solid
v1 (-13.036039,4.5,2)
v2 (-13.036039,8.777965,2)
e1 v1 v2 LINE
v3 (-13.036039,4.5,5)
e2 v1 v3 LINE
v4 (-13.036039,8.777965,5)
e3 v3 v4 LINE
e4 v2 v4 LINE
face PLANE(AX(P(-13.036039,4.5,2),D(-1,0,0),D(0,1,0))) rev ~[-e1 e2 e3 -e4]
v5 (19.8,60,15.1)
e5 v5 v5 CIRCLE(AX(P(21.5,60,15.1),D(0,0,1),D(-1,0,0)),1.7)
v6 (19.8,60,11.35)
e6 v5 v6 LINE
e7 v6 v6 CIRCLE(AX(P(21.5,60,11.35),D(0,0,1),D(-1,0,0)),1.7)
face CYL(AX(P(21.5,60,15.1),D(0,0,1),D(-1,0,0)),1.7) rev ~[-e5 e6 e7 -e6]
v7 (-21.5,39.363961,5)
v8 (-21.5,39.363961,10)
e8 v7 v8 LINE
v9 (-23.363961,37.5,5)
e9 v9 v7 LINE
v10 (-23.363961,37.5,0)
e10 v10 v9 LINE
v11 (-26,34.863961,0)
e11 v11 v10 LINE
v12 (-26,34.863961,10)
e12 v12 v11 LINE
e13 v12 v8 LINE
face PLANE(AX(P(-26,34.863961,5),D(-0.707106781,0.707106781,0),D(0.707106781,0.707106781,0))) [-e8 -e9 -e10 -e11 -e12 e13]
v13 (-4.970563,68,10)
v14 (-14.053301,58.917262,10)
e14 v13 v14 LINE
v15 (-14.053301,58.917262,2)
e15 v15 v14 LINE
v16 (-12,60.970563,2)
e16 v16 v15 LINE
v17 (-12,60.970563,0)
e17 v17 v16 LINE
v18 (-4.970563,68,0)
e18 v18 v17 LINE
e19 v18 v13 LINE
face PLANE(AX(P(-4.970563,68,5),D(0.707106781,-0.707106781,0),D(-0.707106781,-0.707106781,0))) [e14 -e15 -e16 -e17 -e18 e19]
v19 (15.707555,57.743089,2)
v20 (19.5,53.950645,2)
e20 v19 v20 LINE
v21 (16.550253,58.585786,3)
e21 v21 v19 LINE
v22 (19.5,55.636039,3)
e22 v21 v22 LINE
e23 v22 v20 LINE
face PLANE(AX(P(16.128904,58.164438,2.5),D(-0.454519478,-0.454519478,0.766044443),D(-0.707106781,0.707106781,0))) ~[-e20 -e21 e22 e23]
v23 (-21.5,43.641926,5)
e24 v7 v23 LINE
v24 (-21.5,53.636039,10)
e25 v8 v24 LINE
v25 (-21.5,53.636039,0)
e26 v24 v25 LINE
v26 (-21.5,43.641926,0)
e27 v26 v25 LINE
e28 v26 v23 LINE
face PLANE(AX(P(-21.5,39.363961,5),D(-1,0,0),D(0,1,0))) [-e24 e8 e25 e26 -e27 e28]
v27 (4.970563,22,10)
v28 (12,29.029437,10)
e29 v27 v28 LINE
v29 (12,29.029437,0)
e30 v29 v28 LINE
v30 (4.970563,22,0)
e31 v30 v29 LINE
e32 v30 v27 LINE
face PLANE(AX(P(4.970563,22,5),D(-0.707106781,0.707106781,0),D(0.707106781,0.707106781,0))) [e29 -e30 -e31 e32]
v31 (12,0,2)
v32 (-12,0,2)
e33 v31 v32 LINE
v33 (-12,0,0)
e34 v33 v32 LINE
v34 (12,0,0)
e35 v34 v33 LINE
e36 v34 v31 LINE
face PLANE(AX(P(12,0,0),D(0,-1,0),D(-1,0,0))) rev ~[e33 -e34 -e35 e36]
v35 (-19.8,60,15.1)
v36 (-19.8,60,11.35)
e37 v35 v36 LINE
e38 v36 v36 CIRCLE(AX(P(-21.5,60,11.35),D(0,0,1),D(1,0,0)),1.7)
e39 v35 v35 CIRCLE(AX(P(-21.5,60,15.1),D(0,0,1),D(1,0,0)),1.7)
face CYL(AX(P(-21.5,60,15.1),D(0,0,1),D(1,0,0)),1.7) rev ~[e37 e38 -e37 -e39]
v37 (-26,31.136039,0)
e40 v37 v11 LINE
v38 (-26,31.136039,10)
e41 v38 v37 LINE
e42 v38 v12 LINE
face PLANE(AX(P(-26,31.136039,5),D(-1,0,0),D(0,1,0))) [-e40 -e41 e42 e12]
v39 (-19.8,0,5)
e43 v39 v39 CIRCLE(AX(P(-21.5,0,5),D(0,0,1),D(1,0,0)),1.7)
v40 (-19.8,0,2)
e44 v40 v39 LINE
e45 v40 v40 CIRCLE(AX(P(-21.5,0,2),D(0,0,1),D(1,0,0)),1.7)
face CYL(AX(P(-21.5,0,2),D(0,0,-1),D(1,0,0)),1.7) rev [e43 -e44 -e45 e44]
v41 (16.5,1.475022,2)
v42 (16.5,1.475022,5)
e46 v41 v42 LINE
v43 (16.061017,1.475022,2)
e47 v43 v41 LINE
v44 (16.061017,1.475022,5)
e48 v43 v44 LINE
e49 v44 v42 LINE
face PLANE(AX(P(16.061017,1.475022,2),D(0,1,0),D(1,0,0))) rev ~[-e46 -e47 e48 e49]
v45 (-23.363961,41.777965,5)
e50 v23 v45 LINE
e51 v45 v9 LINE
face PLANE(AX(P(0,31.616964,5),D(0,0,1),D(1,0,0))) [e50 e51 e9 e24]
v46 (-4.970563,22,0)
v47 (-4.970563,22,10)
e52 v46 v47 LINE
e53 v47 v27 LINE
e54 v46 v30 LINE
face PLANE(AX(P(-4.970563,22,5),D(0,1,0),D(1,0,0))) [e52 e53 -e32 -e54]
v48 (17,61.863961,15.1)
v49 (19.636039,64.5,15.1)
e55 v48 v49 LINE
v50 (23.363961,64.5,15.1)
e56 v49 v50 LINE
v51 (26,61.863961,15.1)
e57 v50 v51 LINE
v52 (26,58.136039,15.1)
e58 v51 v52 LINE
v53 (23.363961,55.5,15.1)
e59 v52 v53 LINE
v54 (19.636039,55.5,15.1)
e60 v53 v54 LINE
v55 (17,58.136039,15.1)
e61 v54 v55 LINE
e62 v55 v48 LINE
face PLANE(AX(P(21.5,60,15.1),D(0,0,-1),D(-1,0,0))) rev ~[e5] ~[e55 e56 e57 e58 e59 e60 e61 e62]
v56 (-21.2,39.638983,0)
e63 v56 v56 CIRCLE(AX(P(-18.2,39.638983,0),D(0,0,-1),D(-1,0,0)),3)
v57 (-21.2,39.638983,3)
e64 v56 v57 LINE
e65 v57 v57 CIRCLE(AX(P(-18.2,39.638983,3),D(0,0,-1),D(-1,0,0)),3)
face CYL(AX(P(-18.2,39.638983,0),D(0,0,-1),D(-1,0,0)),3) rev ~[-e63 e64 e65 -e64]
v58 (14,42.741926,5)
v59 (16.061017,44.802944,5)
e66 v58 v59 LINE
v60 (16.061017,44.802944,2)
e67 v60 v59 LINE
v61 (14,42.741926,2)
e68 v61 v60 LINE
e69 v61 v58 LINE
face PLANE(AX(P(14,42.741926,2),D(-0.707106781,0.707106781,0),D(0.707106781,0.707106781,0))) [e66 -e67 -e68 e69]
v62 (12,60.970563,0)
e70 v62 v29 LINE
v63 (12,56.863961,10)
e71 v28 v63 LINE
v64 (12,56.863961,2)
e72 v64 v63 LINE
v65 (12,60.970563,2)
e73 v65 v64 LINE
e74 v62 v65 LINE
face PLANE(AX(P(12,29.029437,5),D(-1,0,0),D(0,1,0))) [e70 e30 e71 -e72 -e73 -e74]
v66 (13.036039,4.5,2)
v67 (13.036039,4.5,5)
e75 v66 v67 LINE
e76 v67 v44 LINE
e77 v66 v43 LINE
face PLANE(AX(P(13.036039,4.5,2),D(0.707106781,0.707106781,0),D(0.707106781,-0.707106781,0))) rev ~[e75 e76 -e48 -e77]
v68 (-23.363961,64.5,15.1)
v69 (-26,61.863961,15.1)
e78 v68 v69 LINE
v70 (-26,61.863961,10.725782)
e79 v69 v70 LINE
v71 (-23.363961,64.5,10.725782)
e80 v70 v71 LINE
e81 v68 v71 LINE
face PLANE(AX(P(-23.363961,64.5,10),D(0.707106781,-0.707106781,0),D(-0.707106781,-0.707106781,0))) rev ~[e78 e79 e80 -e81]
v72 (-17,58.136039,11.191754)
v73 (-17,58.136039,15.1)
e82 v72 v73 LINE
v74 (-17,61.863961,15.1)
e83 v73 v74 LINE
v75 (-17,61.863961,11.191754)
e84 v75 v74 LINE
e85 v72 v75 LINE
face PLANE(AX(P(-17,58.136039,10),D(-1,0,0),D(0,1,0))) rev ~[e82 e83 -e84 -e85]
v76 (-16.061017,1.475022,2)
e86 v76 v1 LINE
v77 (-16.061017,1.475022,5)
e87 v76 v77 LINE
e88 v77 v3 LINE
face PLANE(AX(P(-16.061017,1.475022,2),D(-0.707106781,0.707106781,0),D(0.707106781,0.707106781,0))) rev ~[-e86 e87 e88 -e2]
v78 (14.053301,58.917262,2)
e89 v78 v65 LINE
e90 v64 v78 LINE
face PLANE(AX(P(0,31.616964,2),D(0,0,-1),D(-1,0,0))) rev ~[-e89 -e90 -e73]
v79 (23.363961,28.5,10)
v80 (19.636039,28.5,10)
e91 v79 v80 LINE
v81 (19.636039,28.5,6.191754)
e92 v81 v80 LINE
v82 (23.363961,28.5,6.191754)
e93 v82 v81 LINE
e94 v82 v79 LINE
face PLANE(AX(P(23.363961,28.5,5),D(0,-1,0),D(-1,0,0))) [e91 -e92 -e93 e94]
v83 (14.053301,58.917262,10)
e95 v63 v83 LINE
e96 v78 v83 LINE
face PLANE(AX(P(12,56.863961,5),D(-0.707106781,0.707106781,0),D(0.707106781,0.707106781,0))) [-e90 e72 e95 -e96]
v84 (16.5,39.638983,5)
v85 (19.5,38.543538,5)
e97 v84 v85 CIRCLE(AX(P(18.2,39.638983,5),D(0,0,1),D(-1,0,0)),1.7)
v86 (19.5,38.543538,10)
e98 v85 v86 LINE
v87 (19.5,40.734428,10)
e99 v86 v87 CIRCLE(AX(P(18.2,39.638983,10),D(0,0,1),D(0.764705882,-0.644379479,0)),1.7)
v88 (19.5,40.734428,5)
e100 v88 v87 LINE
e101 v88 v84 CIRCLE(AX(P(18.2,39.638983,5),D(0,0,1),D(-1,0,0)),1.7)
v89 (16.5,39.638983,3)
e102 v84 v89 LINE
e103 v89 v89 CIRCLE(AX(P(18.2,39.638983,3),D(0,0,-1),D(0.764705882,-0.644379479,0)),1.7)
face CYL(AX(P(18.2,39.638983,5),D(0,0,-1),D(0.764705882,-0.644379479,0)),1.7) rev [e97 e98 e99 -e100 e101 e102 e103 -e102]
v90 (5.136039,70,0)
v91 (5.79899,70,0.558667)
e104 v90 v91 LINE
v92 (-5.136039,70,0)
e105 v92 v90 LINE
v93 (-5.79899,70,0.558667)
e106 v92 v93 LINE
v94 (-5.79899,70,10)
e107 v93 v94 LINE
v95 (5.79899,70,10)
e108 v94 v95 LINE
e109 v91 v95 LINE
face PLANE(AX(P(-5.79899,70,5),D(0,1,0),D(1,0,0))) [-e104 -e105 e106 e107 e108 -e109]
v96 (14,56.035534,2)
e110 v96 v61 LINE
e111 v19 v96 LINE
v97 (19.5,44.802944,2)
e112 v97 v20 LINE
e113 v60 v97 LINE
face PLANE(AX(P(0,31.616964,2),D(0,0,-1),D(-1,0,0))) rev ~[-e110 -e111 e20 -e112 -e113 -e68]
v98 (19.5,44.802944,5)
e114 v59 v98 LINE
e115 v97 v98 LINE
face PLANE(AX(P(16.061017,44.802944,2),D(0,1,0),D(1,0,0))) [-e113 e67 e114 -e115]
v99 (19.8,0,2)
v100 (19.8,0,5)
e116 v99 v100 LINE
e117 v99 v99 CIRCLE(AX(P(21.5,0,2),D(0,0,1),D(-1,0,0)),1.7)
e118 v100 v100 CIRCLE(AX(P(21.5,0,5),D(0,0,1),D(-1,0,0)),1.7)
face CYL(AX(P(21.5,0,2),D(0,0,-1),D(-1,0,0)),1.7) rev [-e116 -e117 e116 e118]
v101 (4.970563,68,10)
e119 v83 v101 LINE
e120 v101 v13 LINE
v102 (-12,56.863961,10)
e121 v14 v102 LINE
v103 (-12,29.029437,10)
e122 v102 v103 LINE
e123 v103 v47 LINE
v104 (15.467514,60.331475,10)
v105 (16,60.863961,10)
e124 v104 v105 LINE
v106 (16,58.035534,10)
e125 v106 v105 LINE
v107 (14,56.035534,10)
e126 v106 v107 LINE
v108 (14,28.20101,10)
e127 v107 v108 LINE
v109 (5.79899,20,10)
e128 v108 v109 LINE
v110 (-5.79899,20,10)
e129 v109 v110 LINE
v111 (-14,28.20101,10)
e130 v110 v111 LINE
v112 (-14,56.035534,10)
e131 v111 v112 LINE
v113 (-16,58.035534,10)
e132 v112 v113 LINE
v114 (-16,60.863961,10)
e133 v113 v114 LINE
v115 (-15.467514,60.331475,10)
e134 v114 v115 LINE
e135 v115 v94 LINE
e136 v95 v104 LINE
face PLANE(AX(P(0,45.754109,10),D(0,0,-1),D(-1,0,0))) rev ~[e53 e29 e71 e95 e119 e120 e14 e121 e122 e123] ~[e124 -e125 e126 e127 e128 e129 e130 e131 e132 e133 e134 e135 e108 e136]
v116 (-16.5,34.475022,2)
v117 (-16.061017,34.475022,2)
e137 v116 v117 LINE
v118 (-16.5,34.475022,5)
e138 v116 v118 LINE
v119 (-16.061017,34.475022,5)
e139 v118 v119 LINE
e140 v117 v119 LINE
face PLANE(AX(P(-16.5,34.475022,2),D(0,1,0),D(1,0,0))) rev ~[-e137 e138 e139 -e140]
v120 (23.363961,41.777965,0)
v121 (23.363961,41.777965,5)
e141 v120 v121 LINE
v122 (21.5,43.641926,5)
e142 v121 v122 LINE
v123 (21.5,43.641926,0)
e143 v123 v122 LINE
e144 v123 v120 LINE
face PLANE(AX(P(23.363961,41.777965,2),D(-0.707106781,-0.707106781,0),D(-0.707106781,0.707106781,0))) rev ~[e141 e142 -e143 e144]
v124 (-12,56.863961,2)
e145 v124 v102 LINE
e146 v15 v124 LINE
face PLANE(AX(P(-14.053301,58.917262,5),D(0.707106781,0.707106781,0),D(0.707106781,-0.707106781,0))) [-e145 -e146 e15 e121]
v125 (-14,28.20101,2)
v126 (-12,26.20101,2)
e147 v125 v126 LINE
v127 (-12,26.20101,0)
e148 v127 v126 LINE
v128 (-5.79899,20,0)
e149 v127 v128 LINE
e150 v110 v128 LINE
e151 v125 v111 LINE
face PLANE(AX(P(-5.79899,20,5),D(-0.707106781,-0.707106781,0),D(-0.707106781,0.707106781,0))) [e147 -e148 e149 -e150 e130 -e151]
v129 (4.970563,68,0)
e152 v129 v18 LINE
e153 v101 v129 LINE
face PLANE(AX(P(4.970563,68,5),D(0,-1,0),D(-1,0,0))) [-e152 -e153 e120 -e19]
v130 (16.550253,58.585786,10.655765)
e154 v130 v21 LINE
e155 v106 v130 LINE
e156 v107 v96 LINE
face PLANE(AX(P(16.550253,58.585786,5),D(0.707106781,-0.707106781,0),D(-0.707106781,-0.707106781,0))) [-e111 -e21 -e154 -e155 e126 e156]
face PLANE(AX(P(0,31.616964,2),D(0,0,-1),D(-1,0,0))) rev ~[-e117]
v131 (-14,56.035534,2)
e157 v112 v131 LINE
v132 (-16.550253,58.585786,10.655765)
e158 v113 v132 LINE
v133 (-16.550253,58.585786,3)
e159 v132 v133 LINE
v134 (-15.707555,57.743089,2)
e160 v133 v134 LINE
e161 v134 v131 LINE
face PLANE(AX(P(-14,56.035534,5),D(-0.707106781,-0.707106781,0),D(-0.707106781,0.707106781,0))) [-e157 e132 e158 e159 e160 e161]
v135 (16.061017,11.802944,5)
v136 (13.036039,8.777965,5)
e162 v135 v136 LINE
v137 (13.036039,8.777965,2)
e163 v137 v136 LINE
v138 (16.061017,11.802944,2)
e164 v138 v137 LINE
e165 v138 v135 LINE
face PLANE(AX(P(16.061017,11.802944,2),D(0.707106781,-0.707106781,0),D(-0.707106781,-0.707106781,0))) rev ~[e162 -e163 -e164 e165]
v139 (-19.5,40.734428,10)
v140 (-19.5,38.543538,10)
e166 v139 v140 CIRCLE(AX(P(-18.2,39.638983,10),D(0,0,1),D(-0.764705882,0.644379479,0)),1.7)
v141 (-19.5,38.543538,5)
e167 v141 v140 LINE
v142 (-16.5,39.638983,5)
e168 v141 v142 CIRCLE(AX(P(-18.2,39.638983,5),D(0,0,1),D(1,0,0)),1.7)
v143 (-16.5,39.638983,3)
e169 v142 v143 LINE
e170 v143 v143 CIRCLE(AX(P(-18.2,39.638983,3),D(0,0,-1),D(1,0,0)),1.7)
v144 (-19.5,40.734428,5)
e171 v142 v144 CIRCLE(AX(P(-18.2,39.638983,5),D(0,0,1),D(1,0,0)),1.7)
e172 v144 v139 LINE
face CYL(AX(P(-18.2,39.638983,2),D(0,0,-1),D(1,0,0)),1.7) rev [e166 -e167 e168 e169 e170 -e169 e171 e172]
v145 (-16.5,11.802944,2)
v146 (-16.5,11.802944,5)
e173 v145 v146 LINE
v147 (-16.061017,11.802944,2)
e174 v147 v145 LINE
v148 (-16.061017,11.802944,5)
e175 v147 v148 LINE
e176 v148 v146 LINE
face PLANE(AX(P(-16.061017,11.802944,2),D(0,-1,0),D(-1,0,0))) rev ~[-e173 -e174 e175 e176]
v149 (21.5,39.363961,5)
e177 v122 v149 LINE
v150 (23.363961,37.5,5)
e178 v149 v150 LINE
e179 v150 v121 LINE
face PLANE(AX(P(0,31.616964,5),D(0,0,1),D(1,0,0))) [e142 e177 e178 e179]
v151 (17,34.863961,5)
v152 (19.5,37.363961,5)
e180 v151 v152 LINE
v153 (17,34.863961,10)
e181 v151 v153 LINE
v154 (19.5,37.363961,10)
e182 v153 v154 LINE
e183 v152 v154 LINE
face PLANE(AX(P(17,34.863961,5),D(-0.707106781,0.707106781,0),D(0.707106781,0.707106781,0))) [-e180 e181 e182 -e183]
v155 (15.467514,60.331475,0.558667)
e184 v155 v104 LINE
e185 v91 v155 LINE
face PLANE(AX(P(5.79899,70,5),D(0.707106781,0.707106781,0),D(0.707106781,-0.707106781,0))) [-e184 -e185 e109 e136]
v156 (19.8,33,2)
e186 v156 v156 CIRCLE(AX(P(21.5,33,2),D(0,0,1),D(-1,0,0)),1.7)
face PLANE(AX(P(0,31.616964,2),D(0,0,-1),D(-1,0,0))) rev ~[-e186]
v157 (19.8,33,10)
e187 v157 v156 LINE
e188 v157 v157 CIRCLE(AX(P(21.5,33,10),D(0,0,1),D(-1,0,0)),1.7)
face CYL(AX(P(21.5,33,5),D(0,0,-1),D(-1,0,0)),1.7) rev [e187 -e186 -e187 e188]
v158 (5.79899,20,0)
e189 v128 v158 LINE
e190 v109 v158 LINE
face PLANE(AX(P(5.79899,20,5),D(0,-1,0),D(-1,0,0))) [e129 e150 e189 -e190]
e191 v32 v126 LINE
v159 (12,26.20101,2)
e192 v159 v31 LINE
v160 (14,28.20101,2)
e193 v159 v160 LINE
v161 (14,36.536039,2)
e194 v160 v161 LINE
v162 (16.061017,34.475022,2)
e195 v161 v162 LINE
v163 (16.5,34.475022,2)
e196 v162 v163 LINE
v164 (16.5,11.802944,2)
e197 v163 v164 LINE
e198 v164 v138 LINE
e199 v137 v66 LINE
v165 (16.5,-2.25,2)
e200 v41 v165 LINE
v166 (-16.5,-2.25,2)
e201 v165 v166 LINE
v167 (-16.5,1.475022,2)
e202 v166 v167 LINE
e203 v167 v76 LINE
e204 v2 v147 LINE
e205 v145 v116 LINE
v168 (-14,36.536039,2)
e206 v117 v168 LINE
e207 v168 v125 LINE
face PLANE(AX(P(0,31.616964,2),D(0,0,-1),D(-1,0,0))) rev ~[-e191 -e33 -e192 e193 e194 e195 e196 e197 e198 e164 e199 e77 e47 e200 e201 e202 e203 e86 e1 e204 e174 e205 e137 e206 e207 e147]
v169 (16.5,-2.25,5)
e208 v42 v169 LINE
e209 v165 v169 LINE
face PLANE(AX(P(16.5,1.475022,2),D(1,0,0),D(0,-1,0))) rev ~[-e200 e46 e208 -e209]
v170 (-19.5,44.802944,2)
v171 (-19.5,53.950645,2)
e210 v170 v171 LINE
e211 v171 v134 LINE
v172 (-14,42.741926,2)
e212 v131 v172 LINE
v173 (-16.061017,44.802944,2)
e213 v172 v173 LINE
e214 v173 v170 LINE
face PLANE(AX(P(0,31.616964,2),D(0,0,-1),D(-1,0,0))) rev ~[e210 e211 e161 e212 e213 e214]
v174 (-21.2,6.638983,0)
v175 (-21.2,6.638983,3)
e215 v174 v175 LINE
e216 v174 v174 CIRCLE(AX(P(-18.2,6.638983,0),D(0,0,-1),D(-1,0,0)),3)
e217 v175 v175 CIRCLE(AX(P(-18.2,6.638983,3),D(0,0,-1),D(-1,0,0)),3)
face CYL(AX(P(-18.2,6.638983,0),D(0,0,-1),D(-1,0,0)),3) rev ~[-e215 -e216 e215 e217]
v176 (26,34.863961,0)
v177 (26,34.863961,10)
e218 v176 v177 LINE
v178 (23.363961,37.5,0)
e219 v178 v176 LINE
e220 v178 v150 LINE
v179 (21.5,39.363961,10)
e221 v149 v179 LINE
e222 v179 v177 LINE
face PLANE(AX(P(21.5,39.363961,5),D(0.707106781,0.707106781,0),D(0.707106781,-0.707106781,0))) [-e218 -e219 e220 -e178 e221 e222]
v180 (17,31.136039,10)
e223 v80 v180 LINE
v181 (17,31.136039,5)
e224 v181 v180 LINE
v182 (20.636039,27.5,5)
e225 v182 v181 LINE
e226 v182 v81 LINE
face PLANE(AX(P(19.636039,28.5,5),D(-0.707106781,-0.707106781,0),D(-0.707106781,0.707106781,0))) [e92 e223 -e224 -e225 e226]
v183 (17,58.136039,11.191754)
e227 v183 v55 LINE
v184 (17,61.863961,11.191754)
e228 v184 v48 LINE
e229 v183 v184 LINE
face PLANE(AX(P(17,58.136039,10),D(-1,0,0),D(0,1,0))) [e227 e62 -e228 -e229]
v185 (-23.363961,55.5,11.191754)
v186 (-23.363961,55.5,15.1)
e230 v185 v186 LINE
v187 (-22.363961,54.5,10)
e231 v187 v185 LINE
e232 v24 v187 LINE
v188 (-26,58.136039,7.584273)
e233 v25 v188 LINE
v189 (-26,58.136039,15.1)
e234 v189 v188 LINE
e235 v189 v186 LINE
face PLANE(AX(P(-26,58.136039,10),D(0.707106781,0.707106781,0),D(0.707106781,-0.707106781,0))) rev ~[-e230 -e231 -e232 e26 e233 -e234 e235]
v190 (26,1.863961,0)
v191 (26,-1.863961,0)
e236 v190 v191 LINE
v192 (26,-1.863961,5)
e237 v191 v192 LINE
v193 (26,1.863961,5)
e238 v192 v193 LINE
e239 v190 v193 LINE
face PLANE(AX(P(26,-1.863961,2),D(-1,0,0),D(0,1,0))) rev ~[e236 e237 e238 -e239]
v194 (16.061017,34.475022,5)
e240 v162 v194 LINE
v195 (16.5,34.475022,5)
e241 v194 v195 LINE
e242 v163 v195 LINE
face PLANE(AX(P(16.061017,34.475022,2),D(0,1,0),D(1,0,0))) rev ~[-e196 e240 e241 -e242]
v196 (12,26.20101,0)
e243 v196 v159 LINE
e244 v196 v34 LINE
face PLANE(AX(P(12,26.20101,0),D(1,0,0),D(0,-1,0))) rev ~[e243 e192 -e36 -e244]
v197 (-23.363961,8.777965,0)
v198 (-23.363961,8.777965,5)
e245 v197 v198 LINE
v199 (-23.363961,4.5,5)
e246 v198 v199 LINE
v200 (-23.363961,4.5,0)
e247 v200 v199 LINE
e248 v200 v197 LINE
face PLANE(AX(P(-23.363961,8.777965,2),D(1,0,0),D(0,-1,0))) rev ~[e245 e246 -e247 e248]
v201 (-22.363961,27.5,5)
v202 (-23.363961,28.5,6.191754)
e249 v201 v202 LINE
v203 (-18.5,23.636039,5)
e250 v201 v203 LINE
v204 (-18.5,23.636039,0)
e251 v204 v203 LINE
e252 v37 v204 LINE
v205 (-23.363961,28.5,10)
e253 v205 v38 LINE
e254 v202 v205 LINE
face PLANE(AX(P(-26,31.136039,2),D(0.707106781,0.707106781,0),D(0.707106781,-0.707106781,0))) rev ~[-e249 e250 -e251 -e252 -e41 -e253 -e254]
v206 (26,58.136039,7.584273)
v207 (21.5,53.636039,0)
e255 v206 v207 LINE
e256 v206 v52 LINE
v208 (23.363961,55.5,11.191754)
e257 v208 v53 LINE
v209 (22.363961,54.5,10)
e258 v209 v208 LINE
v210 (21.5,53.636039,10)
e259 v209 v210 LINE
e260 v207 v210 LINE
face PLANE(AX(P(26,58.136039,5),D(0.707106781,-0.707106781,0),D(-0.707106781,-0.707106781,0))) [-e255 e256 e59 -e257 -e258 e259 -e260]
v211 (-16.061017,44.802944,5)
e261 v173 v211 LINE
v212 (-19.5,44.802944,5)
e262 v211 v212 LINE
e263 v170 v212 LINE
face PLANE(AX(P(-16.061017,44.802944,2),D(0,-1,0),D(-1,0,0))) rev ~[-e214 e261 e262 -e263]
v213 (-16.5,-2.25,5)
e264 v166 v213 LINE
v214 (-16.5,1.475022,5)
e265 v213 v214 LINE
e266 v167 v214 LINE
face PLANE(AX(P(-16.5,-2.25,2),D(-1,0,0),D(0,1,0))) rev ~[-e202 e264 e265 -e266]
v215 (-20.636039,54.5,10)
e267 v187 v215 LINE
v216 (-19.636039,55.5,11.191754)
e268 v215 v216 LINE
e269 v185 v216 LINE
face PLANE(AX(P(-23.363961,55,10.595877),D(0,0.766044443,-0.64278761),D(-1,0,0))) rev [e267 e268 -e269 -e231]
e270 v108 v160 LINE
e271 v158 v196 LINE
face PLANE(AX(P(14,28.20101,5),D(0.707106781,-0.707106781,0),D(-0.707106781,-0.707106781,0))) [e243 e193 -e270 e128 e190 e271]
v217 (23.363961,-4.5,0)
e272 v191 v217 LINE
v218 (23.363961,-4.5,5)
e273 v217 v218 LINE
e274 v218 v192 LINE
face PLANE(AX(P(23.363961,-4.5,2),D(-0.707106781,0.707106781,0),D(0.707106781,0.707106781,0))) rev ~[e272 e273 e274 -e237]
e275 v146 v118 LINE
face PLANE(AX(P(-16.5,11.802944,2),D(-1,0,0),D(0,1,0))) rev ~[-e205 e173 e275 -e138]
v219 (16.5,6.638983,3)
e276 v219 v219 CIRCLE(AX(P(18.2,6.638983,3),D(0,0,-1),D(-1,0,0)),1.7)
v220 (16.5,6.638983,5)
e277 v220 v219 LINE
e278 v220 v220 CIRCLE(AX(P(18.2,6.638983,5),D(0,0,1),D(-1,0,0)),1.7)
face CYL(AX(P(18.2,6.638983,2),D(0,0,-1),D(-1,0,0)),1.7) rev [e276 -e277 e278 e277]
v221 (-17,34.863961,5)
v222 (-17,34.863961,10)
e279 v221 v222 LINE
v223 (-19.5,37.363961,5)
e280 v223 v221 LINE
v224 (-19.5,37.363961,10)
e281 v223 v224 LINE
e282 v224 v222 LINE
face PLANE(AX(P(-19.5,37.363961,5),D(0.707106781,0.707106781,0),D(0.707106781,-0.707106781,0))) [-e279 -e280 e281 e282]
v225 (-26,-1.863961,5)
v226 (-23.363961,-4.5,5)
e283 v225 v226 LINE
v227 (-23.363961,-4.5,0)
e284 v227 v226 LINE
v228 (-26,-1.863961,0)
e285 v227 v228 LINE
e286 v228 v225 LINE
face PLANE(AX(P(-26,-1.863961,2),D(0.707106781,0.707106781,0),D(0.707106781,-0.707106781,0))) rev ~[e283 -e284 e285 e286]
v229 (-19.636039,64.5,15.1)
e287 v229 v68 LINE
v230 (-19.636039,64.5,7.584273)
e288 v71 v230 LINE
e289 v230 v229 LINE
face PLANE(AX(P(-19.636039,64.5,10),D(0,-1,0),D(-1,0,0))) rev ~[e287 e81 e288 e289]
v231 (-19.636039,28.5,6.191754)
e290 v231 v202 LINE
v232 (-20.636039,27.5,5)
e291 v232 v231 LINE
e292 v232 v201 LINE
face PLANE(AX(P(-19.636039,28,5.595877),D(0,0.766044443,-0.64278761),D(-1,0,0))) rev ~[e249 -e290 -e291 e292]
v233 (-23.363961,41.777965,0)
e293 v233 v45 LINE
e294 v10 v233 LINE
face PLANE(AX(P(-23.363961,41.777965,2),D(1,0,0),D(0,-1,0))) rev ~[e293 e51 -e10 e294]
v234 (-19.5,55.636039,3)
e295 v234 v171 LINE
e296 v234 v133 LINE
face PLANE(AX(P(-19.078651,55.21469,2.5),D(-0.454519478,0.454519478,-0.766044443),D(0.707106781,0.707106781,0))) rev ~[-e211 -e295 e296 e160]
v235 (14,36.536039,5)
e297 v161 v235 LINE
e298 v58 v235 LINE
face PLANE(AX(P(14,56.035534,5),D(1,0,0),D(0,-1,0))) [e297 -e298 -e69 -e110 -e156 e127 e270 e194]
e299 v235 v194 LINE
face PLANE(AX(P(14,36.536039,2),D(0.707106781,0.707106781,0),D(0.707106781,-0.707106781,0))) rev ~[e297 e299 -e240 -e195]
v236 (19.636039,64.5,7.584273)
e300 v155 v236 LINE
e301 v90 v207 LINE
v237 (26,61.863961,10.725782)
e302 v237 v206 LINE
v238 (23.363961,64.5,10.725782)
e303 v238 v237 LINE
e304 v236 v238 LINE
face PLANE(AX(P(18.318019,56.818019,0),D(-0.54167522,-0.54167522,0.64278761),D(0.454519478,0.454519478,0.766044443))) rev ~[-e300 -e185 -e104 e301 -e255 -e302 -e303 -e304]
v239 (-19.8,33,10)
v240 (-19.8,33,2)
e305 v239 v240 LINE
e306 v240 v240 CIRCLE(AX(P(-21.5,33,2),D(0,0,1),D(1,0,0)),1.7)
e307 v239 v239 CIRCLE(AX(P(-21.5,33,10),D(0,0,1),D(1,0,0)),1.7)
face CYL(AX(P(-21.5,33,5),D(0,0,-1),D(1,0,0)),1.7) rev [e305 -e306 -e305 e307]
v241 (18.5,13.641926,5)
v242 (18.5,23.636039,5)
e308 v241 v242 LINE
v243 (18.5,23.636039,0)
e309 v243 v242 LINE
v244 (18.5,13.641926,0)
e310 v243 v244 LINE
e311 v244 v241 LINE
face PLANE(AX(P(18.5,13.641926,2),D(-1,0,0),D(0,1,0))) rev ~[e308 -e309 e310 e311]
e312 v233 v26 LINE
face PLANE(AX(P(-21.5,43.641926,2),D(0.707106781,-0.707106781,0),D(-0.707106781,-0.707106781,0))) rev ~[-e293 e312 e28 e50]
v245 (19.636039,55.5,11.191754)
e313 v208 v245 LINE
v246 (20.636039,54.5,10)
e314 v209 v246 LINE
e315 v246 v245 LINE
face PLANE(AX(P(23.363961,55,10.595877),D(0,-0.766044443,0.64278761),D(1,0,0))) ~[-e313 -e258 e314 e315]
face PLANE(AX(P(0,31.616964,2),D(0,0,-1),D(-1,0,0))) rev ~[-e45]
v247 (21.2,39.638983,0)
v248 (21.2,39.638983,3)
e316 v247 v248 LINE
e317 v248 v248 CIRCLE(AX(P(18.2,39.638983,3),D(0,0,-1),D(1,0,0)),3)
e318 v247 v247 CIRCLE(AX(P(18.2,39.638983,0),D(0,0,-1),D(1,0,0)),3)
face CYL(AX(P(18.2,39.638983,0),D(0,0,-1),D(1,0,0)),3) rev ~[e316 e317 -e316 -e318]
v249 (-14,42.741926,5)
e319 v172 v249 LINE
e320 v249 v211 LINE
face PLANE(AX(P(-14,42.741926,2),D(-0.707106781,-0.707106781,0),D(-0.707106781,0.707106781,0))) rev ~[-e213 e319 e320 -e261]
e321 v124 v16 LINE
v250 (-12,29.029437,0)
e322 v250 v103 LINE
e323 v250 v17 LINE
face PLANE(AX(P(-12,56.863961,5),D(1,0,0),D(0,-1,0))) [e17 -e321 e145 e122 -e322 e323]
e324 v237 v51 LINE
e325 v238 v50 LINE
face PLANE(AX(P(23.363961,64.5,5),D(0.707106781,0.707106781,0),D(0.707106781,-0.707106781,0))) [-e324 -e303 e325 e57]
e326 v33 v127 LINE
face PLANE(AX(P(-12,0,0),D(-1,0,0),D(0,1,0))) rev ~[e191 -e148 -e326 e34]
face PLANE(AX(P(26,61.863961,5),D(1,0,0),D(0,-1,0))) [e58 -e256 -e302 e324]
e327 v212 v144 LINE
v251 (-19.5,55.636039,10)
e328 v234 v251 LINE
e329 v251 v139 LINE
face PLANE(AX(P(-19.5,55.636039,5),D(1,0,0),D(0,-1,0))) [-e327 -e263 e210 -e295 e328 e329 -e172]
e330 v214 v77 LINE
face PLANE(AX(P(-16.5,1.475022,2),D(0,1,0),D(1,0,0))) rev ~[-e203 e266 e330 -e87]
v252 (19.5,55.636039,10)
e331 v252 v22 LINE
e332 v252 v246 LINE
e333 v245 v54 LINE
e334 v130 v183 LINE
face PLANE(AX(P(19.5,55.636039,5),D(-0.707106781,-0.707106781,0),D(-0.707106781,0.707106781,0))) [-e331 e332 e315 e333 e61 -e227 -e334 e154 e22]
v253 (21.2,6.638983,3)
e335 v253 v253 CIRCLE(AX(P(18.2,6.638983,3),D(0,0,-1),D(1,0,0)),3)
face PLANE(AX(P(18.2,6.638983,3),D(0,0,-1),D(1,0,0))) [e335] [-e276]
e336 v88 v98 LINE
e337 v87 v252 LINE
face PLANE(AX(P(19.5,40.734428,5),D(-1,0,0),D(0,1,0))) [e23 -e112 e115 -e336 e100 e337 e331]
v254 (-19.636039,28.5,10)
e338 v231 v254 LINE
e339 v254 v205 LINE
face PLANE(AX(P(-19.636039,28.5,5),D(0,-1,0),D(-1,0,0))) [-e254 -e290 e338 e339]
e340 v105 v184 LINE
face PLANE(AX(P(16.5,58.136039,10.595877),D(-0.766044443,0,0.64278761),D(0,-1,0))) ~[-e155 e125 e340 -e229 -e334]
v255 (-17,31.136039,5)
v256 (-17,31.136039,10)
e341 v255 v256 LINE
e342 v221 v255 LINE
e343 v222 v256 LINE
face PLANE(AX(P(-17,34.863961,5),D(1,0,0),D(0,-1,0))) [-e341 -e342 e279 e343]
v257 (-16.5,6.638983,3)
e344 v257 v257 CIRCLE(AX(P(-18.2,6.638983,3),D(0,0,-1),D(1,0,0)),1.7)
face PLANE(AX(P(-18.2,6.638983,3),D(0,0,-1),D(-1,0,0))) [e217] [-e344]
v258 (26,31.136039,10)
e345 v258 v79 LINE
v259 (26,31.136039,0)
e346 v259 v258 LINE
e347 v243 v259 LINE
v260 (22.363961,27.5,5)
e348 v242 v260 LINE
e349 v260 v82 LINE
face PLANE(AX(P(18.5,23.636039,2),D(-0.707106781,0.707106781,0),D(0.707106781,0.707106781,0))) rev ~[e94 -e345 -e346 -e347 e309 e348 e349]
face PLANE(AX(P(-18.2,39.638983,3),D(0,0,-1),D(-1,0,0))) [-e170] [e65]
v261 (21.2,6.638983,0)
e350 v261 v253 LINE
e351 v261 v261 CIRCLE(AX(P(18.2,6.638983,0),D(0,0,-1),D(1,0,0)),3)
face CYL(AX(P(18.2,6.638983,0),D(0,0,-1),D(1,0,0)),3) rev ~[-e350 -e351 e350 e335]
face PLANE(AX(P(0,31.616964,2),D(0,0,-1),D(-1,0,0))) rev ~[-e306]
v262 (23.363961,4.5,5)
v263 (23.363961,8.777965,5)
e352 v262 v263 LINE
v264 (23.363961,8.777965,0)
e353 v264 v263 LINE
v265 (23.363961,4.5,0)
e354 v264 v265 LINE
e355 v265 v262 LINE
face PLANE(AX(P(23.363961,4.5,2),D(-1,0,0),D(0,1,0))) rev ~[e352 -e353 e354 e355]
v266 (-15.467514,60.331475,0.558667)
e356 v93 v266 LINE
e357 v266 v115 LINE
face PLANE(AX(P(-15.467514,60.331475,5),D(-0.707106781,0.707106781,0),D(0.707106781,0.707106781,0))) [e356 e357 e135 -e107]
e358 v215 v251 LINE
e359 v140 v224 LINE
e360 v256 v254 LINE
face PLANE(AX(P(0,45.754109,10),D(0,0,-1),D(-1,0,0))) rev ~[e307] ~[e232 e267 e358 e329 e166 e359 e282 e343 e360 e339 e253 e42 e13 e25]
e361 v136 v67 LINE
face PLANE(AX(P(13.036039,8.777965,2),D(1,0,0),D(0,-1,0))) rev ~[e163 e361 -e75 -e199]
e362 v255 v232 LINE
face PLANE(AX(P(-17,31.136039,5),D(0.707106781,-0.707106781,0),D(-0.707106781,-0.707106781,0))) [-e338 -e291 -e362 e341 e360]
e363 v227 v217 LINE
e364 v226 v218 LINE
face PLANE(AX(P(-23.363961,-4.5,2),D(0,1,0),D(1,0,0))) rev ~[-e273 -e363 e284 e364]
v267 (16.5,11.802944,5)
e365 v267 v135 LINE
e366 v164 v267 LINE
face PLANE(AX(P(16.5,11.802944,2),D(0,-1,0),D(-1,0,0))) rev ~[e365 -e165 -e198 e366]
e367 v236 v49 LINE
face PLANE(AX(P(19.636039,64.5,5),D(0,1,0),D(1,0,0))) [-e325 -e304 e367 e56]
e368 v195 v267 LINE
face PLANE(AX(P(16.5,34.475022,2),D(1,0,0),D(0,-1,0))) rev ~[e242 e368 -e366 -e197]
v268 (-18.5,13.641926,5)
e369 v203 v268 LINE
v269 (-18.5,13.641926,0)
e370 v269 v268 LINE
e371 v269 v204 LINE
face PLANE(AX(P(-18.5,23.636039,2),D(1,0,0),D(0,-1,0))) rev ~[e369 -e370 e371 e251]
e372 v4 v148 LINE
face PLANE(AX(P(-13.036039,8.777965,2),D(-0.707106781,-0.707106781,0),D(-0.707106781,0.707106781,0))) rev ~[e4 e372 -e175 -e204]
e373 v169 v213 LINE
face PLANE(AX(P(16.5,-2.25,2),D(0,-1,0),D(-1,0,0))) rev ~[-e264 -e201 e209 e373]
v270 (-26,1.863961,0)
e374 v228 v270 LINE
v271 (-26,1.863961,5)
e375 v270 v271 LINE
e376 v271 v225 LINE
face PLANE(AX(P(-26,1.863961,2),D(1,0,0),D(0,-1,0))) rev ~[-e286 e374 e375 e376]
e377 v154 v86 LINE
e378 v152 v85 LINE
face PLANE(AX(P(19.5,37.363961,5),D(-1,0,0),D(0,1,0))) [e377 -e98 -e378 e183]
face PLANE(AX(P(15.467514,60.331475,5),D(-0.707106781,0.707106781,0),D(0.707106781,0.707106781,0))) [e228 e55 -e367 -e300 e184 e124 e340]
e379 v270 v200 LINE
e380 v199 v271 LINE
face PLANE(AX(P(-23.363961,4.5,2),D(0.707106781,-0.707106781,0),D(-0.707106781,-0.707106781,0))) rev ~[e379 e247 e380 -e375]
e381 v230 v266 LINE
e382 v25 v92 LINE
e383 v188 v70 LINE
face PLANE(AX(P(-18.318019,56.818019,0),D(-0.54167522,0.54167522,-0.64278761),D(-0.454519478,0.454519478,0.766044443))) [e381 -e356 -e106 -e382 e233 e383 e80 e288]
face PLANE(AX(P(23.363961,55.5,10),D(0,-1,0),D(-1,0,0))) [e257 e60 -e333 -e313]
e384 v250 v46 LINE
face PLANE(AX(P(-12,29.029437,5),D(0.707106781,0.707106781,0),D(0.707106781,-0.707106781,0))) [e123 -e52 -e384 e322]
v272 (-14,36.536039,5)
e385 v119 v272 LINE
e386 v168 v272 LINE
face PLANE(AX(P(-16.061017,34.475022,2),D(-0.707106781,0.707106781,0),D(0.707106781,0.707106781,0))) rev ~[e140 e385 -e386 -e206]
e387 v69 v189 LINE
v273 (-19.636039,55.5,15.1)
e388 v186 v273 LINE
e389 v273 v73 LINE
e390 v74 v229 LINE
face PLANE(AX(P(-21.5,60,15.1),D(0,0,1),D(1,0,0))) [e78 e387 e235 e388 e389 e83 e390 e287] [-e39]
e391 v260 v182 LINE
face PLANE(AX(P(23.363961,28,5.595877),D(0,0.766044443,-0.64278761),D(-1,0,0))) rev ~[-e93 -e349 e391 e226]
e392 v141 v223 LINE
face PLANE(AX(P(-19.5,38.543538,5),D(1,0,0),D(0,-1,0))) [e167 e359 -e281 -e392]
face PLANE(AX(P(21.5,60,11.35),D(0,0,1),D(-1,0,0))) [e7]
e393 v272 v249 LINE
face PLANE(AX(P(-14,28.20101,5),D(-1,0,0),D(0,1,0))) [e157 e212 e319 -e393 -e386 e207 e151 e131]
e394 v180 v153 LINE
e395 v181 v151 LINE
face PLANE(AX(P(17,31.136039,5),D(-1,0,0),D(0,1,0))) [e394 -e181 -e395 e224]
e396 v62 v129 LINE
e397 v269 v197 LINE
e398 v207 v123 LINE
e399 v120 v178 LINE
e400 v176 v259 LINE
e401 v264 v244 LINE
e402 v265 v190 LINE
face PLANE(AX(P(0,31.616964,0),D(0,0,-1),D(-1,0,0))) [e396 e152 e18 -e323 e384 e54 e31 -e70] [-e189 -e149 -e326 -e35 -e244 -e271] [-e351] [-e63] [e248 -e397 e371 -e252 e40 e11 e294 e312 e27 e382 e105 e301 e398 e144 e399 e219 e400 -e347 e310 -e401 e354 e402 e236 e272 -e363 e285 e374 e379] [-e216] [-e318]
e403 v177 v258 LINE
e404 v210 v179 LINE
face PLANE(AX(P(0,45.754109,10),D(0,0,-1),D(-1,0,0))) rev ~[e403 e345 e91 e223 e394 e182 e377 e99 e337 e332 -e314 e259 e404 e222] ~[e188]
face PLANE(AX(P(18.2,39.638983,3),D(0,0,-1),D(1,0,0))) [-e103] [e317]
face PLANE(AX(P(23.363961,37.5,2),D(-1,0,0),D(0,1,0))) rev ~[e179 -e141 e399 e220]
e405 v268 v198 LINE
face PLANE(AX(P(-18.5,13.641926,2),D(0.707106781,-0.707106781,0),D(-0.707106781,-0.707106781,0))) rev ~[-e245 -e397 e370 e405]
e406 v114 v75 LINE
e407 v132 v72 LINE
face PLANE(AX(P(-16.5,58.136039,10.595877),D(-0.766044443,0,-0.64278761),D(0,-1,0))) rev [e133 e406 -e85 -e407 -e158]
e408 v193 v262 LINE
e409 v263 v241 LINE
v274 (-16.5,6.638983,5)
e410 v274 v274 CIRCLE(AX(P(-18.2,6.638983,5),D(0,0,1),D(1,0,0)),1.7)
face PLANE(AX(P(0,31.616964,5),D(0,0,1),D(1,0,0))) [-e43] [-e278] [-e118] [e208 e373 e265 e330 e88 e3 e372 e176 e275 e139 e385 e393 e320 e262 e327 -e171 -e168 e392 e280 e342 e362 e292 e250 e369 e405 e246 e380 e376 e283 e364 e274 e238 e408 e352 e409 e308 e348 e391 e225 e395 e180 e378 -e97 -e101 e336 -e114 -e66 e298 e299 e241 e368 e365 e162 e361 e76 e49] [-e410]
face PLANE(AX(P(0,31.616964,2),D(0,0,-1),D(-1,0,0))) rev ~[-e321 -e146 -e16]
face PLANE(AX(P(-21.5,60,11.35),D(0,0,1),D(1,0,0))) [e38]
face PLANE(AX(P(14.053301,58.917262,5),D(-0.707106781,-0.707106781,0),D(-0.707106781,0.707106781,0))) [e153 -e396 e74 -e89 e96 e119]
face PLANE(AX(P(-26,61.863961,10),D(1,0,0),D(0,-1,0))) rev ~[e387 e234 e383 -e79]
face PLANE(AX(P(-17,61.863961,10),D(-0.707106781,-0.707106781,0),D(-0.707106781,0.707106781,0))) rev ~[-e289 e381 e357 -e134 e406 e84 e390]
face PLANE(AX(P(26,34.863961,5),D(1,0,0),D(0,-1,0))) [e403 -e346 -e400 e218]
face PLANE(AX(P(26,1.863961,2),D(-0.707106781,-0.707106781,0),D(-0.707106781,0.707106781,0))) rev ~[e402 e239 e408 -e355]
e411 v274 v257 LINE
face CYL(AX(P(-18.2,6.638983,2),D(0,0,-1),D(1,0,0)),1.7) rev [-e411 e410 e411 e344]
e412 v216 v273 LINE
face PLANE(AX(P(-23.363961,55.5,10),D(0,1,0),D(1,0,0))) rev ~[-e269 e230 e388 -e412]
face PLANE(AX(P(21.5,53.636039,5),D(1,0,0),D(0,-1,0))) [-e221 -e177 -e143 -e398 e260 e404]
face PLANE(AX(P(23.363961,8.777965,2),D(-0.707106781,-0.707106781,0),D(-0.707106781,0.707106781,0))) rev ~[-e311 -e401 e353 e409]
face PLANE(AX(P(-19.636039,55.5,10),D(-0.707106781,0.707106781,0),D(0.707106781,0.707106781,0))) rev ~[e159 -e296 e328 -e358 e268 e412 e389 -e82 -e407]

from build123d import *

# Parameters (mm, degrees)
SKETCH5_R               = 1.6999999999999995
BOSS_EXTRUDE1_DEPTH     = 2
SKETCH9_R               = 1.6999999999999995
BOSS_EXTRUDE3_DEPTH     = 3
SKETCH10_R              = 1.6999999999999995
BOSS_EXTRUDE4_DEPTH     = 5
BOSS_EXTRUDE5_DEPTH     = 5.1
SKETCH13_R              = 1.6999999999999995
SUSPENSION_DOWELS_DEPTH = 3.75
TOP_ANGLE_1_DEPTH       = 25
TOP_ANGLE_2_DEPTH       = 25
CHAMFER1_SIZE           = 1
CHAMFER1_SIZE2          = 1.1917535925942147
CHAMFER1_PART_2_SIZE    = 1
CHAMFER1_PART_2_SIZE2   = 1.1917535925942147
CHAMFER1_PART_3_SIZE    = 1
CHAMFER1_PART_3_SIZE2   = 1.1917535925942147
CHAMFER1_PART_4_SIZE    = 1
CHAMFER1_PART_4_SIZE2   = 1.1917535925942147
CHAMFER1_PART_5_SIZE    = 1
CHAMFER1_PART_5_SIZE2   = 1.1917535925942147
CHAMFER1_PART_6_SIZE    = 1
CHAMFER1_PART_6_SIZE2   = 1.1917535925942147
SKETCH18_R              = 3.0000000000000018
SKETCH18_R_2            = 2.9999999999999973
SKETCH18_R_3            = 3
SKETCH18_R_4            = 2.999999999999999
M3_HEAD_HOLES_DEPTH     = 3


with BuildPart() as part:
    # Sketch5 → Boss-Extrude1 (new body)
    with BuildSketch(Plane.XY):
        Polygon((19.636038969321074, -4.4999999999999964), (-19.636038969321074, -4.4999999999999964), (-23.363961030678926, -4.499999999999997), (-25.999999999999996, -1.8639610306789332), (-25.999999999999996, 1.863961030678925), (-23.36396103067893, 4.5), (-23.363961030678933, 8.77796538894672), (-20.33898269447335, 11.802943725152302), (-18.499999999999996, 13.641926419625662), (-18.500000000000004, 23.63603896932108), (-23.363961030678926, 28.499999999999996), (-25.999999999999996, 31.13603896932107), (-26, 34.86396103067893), (-23.363961030678926, 37.5), (-23.363961030678926, 41.7779653889467), (-21.5, 43.64192641962563), (-21.5, 53.63603896932107), (-23.363961030678908, 55.499999999999964), (-26.000000000000004, 58.13603896932106), (-26.000000000000004, 61.86396103067894), (-23.36396103067892, 64.50000000000001), (-19.63603896932107, 64.50000000000001), (-16.999999999999986, 61.86396103067893), (-15.4675144212722, 60.33147545195113), (-5.798989873223339, 69.99999999999999), (5.798989873223339, 69.99999999999999), (15.4675144212722, 60.33147545195113), (16.999999999999986, 61.86396103067893), (19.63603896932107, 64.50000000000001), (23.36396103067892, 64.50000000000001), (26.000000000000004, 61.86396103067894), (26.000000000000004, 58.13603896932106), (23.363961030678908, 55.499999999999964), (21.5, 53.63603896932107), (21.5, 43.64192641962563), (23.363961030678926, 41.7779653889467), (23.363961030678926, 37.5), (26, 34.86396103067893), (25.999999999999996, 31.13603896932107), (23.363961030678926, 28.499999999999996), (18.500000000000004, 23.63603896932108), (18.499999999999996, 13.641926419625662), (20.33898269447335, 11.802943725152302), (23.363961030678933, 8.77796538894672), (23.36396103067893, 4.5), (25.999999999999996, 1.863961030678925), (25.999999999999996, -1.8639610306789332), (23.363961030678926, -4.499999999999997), align=None)
        with Locations((-18.2, 39.638982694473334)):
            Circle(SKETCH5_R, mode=Mode.SUBTRACT)
        with Locations((-18.199999999999996, 6.638982694473367)):
            Circle(SKETCH5_R, mode=Mode.SUBTRACT)
        with Locations(Location((18.199999999999996, 6.638982694473367, 0), (0, 0, 180))):
            Circle(SKETCH5_R, mode=Mode.SUBTRACT)
        with Locations(Location((18.2, 39.638982694473334, 0), (0, 0, 180))):
            Circle(SKETCH5_R, mode=Mode.SUBTRACT)
        Polygon((4.9705627484771515, 67.99999999999999), (-4.9705627484771515, 67.99999999999999), (-12.000000000000004, 60.970562748477136), (-11.999999999999998, 34), (-11.999999999999998, 29.02943725152283), (-4.9705627484771, 22.000000000000007), (4.9705627484771, 22.000000000000007), (11.999999999999998, 29.02943725152283), (12.000000000000002, 56.863961030678944), (12.000000000000004, 60.970562748477136), align=None, mode=Mode.SUBTRACT)
        Polygon((-5.798989873223333, 20.000000000000004), (5.798989873223333, 20.000000000000004), (11.999999999999998, 26.2010101267766), (12.000000000000002, 0), (-12.000000000000002, 0), (-11.999999999999998, 26.2010101267766), align=None, mode=Mode.SUBTRACT)
    extrude(amount=BOSS_EXTRUDE1_DEPTH)

    # Sketch9 → Boss-Extrude3 (add)
    with BuildSketch(Plane.XY.offset(2)):
        Polygon((5.798989873223339, 69.99999999999999), (-5.798989873223339, 69.99999999999999), (-15.4675144212722, 60.33147545195113), (-16.999999999999986, 61.86396103067893), (-19.63603896932107, 64.50000000000001), (-23.36396103067892, 64.50000000000001), (-26.000000000000004, 61.86396103067894), (-26.000000000000004, 58.13603896932106), (-23.363961030678908, 55.499999999999964), (-21.5, 53.63603896932107), (-21.5, 43.64192641962563), (-23.363961030678926, 41.7779653889467), (-23.363961030678926, 37.5), (-26, 34.86396103067893), (-25.999999999999996, 31.13603896932107), (-23.363961030678926, 28.499999999999996), (-18.500000000000004, 23.63603896932108), (-18.499999999999996, 13.641926419625662), (-20.33898269447335, 11.802943725152302), (-23.363961030678933, 8.77796538894672), (-23.36396103067893, 4.5), (-25.999999999999996, 1.863961030678925), (-25.999999999999996, -1.8639610306789332), (-23.363961030678926, -4.499999999999997), (-19.636038969321074, -4.4999999999999964), (19.636038969321074, -4.4999999999999964), (23.363961030678926, -4.499999999999997), (25.999999999999996, -1.8639610306789332), (25.999999999999996, 1.863961030678925), (23.36396103067893, 4.5), (23.363961030678933, 8.77796538894672), (20.33898269447335, 11.802943725152302), (18.499999999999996, 13.641926419625662), (18.500000000000004, 23.63603896932108), (23.363961030678926, 28.499999999999996), (25.999999999999996, 31.13603896932107), (26, 34.86396103067893), (23.363961030678926, 37.5), (23.363961030678926, 41.7779653889467), (21.5, 43.64192641962563), (21.5, 53.63603896932107), (23.363961030678908, 55.499999999999964), (26.000000000000004, 58.13603896932106), (26.000000000000004, 61.86396103067894), (23.36396103067892, 64.50000000000001), (19.63603896932107, 64.50000000000001), (16.999999999999986, 61.86396103067893), (15.4675144212722, 60.33147545195113), align=None)
        with Locations((-21.5, 0)):
            Circle(SKETCH9_R, mode=Mode.SUBTRACT)
        with Locations((-21.5, 33)):
            Circle(SKETCH9_R, mode=Mode.SUBTRACT)
        with Locations((-18.2, 39.638982694473334)):
            Circle(SKETCH9_R, mode=Mode.SUBTRACT)
        with Locations((-18.199999999999996, 6.638982694473367)):
            Circle(SKETCH9_R, mode=Mode.SUBTRACT)
        with Locations(Location((18.199999999999996, 6.638982694473367, 0), (0, 0, 180))):
            Circle(SKETCH9_R, mode=Mode.SUBTRACT)
        with Locations(Location((18.2, 39.638982694473334, 0), (0, 0, 180))):
            Circle(SKETCH9_R, mode=Mode.SUBTRACT)
        with Locations(Location((21.5, 33, 0), (0, 0, 180))):
            Circle(SKETCH9_R, mode=Mode.SUBTRACT)
        with Locations(Location((21.5, 0, 0), (0, 0, 180))):
            Circle(SKETCH9_R, mode=Mode.SUBTRACT)
        Polygon((4.9705627484771515, 67.99999999999999), (-4.9705627484771515, 67.99999999999999), (-14.053300858899126, 58.91726188957801), (-12.000000000000002, 56.863961030678944), (-11.999999999999998, 29.02943725152283), (-4.9705627484771, 22.000000000000007), (4.9705627484771, 22.000000000000007), (11.999999999999998, 29.02943725152283), (12.000000000000002, 56.863961030678944), (14.053300858899126, 58.91726188957801), align=None, mode=Mode.SUBTRACT)
        Polygon((16.5, -2.249999999999999), (-16.5, -2.249999999999999), (-16.5, 1.4750216637944287), (-16.061017305526637, 1.4750216637944285), (-13.036038969321057, 4.500000000000007), (-13.036038969321057, 8.777965388946727), (-16.061017305526633, 11.802943725152302), (-16.5, 11.802943725152302), (-16.5, 34.47502166379441), (-16.061017305526644, 34.47502166379441), (-13.999999999999998, 36.536038969321055), (-13.999999999999995, 28.201010126776577), (-11.999999999999998, 26.2010101267766), (-5.798989873223333, 20.000000000000004), (5.798989873223333, 20.000000000000004), (11.999999999999998, 26.2010101267766), (13.999999999999995, 28.201010126776577), (13.999999999999998, 36.536038969321055), (16.061017305526644, 34.47502166379441), (16.5, 34.47502166379441), (16.5, 11.802943725152302), (16.061017305526633, 11.802943725152302), (13.036038969321057, 8.777965388946727), (13.036038969321057, 4.500000000000007), (16.061017305526637, 1.4750216637944285), (16.5, 1.4750216637944287), align=None, mode=Mode.SUBTRACT)
        Polygon((-14, 56.03553390593274), (-13.999999999999998, 42.74192641962563), (-16.06101730552664, 44.80294372515226), (-19.500000000000004, 44.80294372515227), (-19.500000000000004, 55.63603896932105), (-16.999999999999986, 58.136038969321056), (-16.550252531694156, 58.585786437626886), align=None, mode=Mode.SUBTRACT)
        Polygon((19.500000000000004, 44.80294372515227), (19.500000000000004, 55.63603896932105), (16.999999999999986, 58.136038969321056), (16.550252531694156, 58.585786437626886), (14, 56.03553390593274), (13.999999999999998, 42.74192641962563), (16.06101730552664, 44.80294372515226), align=None, mode=Mode.SUBTRACT)
    extrude(amount=BOSS_EXTRUDE3_DEPTH)

    # Sketch10 → Boss-Extrude4 (add)
    with BuildSketch(Plane.XY.offset(5)):
        with BuildLine():
            Line((19.500000000000004, 40.73442780948366), (19.500000000000004, 55.63603896932105))
            Line((19.500000000000004, 55.63603896932105), (16.999999999999986, 58.136038969321056))
            Line((16.999999999999986, 58.136038969321056), (16.550252531694156, 58.585786437626886))
            Line((16.550252531694156, 58.585786437626886), (14, 56.03553390593274))
            Line((14, 56.03553390593274), (13.999999999999995, 28.201010126776577))
            Line((13.999999999999995, 28.201010126776577), (11.999999999999998, 26.2010101267766))
            Line((11.999999999999998, 26.2010101267766), (5.798989873223333, 20.000000000000004))
            Line((5.798989873223333, 20.000000000000004), (-5.798989873223335, 20.000000000000004))
            Line((-5.798989873223335, 20.000000000000004), (-11.999999999999998, 26.2010101267766))
            Line((-11.999999999999998, 26.2010101267766), (-13.999999999999995, 28.201010126776573))
            Line((-13.999999999999995, 28.201010126776573), (-14, 56.03553390593274))
            Line((-14, 56.03553390593274), (-16.550252531694156, 58.585786437626886))
            Line((-16.550252531694156, 58.585786437626886), (-16.999999999999986, 58.136038969321056))
            Line((-16.999999999999986, 58.136038969321056), (-19.500000000000004, 55.63603896932105))
            Line((-19.500000000000004, 55.63603896932105), (-19.500000000000004, 40.73442780948366))
            ThreePointArc((-19.500000000000004, 40.73442780948366), (-19.9, 39.638982694473334), (-19.500000000000004, 38.543537579463006))
            Line((-19.500000000000004, 38.543537579463006), (-19.500000000000004, 37.36396103067894))
            Line((-19.500000000000004, 37.36396103067894), (-17, 34.86396103067892))
            Line((-17, 34.86396103067892), (-17, 31.136038969321078))
            Line((-17, 31.136038969321078), (-19.636038969321078, 28.5))
            Line((-19.636038969321078, 28.5), (-23.363961030678926, 28.499999999999996))
            Line((-23.363961030678926, 28.499999999999996), (-25.999999999999996, 31.13603896932107))
            Line((-25.999999999999996, 31.13603896932107), (-26, 34.86396103067893))
            Line((-26, 34.86396103067893), (-23.363961030678926, 37.5))
            Line((-23.363961030678926, 37.5), (-21.5, 39.36396103067895))
            Line((-21.5, 39.36396103067895), (-21.5, 53.63603896932107))
            Line((-21.5, 53.63603896932107), (-23.363961030678908, 55.499999999999964))
            Line((-23.363961030678908, 55.499999999999964), (-26.000000000000004, 58.13603896932106))
            Line((-26.000000000000004, 58.13603896932106), (-26.000000000000004, 61.86396103067894))
            Line((-26.000000000000004, 61.86396103067894), (-23.36396103067892, 64.50000000000001))
            Line((-23.36396103067892, 64.50000000000001), (-19.63603896932107, 64.50000000000001))
            Line((-19.63603896932107, 64.50000000000001), (-16.999999999999986, 61.86396103067893))
            Line((-16.999999999999986, 61.86396103067893), (-15.4675144212722, 60.33147545195113))
            Line((-15.4675144212722, 60.33147545195113), (-5.798989873223339, 69.99999999999999))
            Line((-5.798989873223339, 69.99999999999999), (5.798989873223339, 69.99999999999999))
            Line((5.798989873223339, 69.99999999999999), (15.4675144212722, 60.33147545195113))
            Line((15.4675144212722, 60.33147545195113), (16.999999999999986, 61.86396103067893))
            Line((16.999999999999986, 61.86396103067893), (19.63603896932107, 64.50000000000001))
            Line((19.63603896932107, 64.50000000000001), (23.36396103067892, 64.50000000000001))
            Line((23.36396103067892, 64.50000000000001), (26.000000000000004, 61.86396103067894))
            Line((26.000000000000004, 61.86396103067894), (26.000000000000004, 58.13603896932106))
            Line((26.000000000000004, 58.13603896932106), (23.363961030678908, 55.499999999999964))
            Line((23.363961030678908, 55.499999999999964), (21.5, 53.63603896932107))
            Line((21.5, 53.63603896932107), (21.5, 39.36396103067895))
            Line((21.5, 39.36396103067895), (23.363961030678926, 37.5))
            Line((23.363961030678926, 37.5), (26, 34.86396103067893))
            Line((26, 34.86396103067893), (25.999999999999996, 31.13603896932107))
            Line((25.999999999999996, 31.13603896932107), (23.363961030678926, 28.499999999999996))
            Line((23.363961030678926, 28.499999999999996), (19.636038969321078, 28.5))
            Line((19.636038969321078, 28.5), (17, 31.136038969321078))
            Line((17, 31.136038969321078), (17, 34.86396103067892))
            Line((17, 34.86396103067892), (19.500000000000004, 37.36396103067894))
            Line((19.500000000000004, 37.36396103067894), (19.500000000000004, 38.543537579463006))
            ThreePointArc((19.500000000000004, 38.543537579463006), (19.9, 39.638982694473334), (19.500000000000004, 40.73442780948366))
        make_face()
        with Locations((-21.5, 33)):
            Circle(SKETCH10_R, mode=Mode.SUBTRACT)
        with Locations(Location((21.5, 33, 0), (0, 0, 180))):
            Circle(SKETCH10_R, mode=Mode.SUBTRACT)
        Polygon((4.9705627484771515, 67.99999999999999), (-4.9705627484771515, 67.99999999999999), (-14.053300858899126, 58.91726188957801), (-12.000000000000002, 56.863961030678944), (-11.999999999999998, 29.029437251522825), (-4.970562748477101, 22.000000000000007), (4.9705627484771, 22.000000000000007), (11.999999999999998, 29.02943725152283), (12.000000000000002, 56.863961030678944), (14.053300858899126, 58.91726188957801), align=None, mode=Mode.SUBTRACT)
    extrude(amount=BOSS_EXTRUDE4_DEPTH)

    # Sketch12 → Boss-Extrude5 (add)
    with BuildSketch(Plane.XY.offset(10)):
        Polygon((-26.000000000000004, 58.13603896932106), (-23.363961030678908, 55.499999999999964), (-19.636038969321078, 55.499999999999964), (-16.999999999999986, 58.136038969321056), (-16.999999999999986, 61.86396103067893), (-19.63603896932107, 64.50000000000001), (-23.36396103067892, 64.50000000000001), (-26.000000000000004, 61.86396103067894), align=None)
        Polygon((16.999999999999986, 58.136038969321056), (16.999999999999986, 61.86396103067893), (19.63603896932107, 64.50000000000001), (23.36396103067892, 64.50000000000001), (26.000000000000004, 61.86396103067894), (26.000000000000004, 58.13603896932106), (23.363961030678908, 55.499999999999964), (19.636038969321078, 55.499999999999964), align=None)
    extrude(amount=BOSS_EXTRUDE5_DEPTH)

    # Sketch13 → Suspension Dowels (cut)
    with BuildSketch(Plane.XY.offset(15.1)):
        with Locations((-21.500000000000004, 60)):
            Circle(SKETCH13_R)
        with Locations(Location((21.500000000000004, 60, 0), (0, 0, 180))):
            Circle(SKETCH13_R)
    extrude(amount=-SUSPENSION_DOWELS_DEPTH, mode=Mode.SUBTRACT)

    # Sketch15 → Top Angle 1 (cut, symmetric)
    with BuildSketch(Plane(origin=(19.249999999999986, 19.24999999999993, 0), x_dir=(0, 0, -1), z_dir=(0.7071067811865485, 0.7071067811865467, 0))):
        Polygon((0, 53.12920266670365), (-15.320888862379586, 65.9849548604344), (-8.893012765514198, 73.6453992916242), (6.427876096865383, 60.78964709789344), align=None)
    extrude(amount=TOP_ANGLE_1_DEPTH, both=True, mode=Mode.SUBTRACT)

    # Sketch16 → Top Angle 2 (cut, symmetric)
    with BuildSketch(Plane(origin=(-19.249999999999908, 19.249999999999712, 0), x_dir=(0, 0, 1), z_dir=(-0.7071067811865509, 0.7071067811865441, 0))):
        Polygon((0, 53.129202666703755), (15.32088886237958, 65.98495486043451), (8.8930127655142, 73.64539929162432), (-6.427876096865378, 60.78964709789354), align=None)
    extrude(amount=TOP_ANGLE_2_DEPTH, both=True, mode=Mode.SUBTRACT)

    # Chamfer1
    chamfer1_edges = [part.edges().sort_by_distance(p)[0] for p in [
        (-18.025126265847078, 57.11091270347397, 2),
    ]]
    chamfer1_side = [part.faces().sort_by_distance(p)[0] for p in [
        (-18.13142778935896, 57.004611179962076, 8.37723147645248),
    ]]
    chamfer(chamfer1_edges, length=CHAMFER1_SIZE, length2=CHAMFER1_SIZE2, reference=chamfer1_side[0])

    # Chamfer1 part 2
    chamfer1_part_2_edges = [part.edges().sort_by_distance(p)[0] for p in [
        (18.025126265847078, 57.11091270347397, 2),
    ]]
    chamfer1_part_2_side = [part.faces().sort_by_distance(p)[0] for p in [
        (18.131427789358963, 57.00461117996208, 8.37723147645248),
    ]]
    chamfer(chamfer1_part_2_edges, length=CHAMFER1_PART_2_SIZE, length2=CHAMFER1_PART_2_SIZE2, reference=chamfer1_part_2_side[0])

    # Chamfer1 part 3
    chamfer1_part_3_edges = [part.edges().sort_by_distance(p)[0] for p in [
        (-21.5, 28.5, 5),
        (21.5, 28.499999999999996, 5),
    ]]
    chamfer1_part_3_side = [part.faces().sort_by_distance(p)[0] for p in [
        (20.425286314663868, 26.574713685336132, 5),
    ]]
    chamfer(chamfer1_part_3_edges, length=CHAMFER1_PART_3_SIZE, length2=CHAMFER1_PART_3_SIZE2, reference=chamfer1_part_3_side[0])

    # Chamfer1 part 4
    chamfer1_part_4_edges = [part.edges().sort_by_distance(p)[0] for p in [
        (-21.499999999999993, 55.499999999999964, 10),
    ]]
    chamfer1_part_4_side = [part.faces().sort_by_distance(p)[0] for p in [
        (-21.161819058590364, 38.46008255633416, 10),
    ]]
    chamfer(chamfer1_part_4_edges, length=CHAMFER1_PART_4_SIZE, length2=CHAMFER1_PART_4_SIZE2, reference=chamfer1_part_4_side[0])

    # Chamfer1 part 5
    chamfer1_part_5_edges = [part.edges().sort_by_distance(p)[0] for p in [
        (-16.999999999999986, 59.99999999999999, 10),
        (16.999999999999986, 59.99999999999999, 10),
    ]]
    chamfer1_part_5_side = [part.faces().sort_by_distance(p)[0] for p in [
        (16.395351341686748, 59.99999999999999, 10),
    ]]
    chamfer(chamfer1_part_5_edges, length=CHAMFER1_PART_5_SIZE, length2=CHAMFER1_PART_5_SIZE2, reference=chamfer1_part_5_side[0])

    # Chamfer1 part 6
    chamfer1_part_6_edges = [part.edges().sort_by_distance(p)[0] for p in [
        (21.499999999999993, 55.499999999999964, 10),
    ]]
    chamfer1_part_6_side = [part.faces().sort_by_distance(p)[0] for p in [
        (21.16181905859036, 38.46008255633416, 10),
    ]]
    chamfer(chamfer1_part_6_edges, length=CHAMFER1_PART_6_SIZE, length2=CHAMFER1_PART_6_SIZE2, reference=chamfer1_part_6_side[0])

    # Sketch18 → M3 Head Holes (cut)
    with BuildSketch(Plane(origin=(0, 0, 0), x_dir=(-1, 0, 0), z_dir=(0, 0, -1))):
        with Locations((18.2, 39.638982694473334)):
            Circle(SKETCH18_R)
        with Locations((18.199999999999996, 6.638982694473367)):
            Circle(SKETCH18_R_2)
        with Locations(Location((-18.2, 39.638982694473334, 0), (0, 0, 180))):
            Circle(SKETCH18_R_3)
        with Locations(Location((-18.199999999999996, 6.638982694473367, 0), (0, 0, 180))):
            Circle(SKETCH18_R_4)
    extrude(amount=-M3_HEAD_HOLES_DEPTH, mode=Mode.SUBTRACT)


solid = part.part
